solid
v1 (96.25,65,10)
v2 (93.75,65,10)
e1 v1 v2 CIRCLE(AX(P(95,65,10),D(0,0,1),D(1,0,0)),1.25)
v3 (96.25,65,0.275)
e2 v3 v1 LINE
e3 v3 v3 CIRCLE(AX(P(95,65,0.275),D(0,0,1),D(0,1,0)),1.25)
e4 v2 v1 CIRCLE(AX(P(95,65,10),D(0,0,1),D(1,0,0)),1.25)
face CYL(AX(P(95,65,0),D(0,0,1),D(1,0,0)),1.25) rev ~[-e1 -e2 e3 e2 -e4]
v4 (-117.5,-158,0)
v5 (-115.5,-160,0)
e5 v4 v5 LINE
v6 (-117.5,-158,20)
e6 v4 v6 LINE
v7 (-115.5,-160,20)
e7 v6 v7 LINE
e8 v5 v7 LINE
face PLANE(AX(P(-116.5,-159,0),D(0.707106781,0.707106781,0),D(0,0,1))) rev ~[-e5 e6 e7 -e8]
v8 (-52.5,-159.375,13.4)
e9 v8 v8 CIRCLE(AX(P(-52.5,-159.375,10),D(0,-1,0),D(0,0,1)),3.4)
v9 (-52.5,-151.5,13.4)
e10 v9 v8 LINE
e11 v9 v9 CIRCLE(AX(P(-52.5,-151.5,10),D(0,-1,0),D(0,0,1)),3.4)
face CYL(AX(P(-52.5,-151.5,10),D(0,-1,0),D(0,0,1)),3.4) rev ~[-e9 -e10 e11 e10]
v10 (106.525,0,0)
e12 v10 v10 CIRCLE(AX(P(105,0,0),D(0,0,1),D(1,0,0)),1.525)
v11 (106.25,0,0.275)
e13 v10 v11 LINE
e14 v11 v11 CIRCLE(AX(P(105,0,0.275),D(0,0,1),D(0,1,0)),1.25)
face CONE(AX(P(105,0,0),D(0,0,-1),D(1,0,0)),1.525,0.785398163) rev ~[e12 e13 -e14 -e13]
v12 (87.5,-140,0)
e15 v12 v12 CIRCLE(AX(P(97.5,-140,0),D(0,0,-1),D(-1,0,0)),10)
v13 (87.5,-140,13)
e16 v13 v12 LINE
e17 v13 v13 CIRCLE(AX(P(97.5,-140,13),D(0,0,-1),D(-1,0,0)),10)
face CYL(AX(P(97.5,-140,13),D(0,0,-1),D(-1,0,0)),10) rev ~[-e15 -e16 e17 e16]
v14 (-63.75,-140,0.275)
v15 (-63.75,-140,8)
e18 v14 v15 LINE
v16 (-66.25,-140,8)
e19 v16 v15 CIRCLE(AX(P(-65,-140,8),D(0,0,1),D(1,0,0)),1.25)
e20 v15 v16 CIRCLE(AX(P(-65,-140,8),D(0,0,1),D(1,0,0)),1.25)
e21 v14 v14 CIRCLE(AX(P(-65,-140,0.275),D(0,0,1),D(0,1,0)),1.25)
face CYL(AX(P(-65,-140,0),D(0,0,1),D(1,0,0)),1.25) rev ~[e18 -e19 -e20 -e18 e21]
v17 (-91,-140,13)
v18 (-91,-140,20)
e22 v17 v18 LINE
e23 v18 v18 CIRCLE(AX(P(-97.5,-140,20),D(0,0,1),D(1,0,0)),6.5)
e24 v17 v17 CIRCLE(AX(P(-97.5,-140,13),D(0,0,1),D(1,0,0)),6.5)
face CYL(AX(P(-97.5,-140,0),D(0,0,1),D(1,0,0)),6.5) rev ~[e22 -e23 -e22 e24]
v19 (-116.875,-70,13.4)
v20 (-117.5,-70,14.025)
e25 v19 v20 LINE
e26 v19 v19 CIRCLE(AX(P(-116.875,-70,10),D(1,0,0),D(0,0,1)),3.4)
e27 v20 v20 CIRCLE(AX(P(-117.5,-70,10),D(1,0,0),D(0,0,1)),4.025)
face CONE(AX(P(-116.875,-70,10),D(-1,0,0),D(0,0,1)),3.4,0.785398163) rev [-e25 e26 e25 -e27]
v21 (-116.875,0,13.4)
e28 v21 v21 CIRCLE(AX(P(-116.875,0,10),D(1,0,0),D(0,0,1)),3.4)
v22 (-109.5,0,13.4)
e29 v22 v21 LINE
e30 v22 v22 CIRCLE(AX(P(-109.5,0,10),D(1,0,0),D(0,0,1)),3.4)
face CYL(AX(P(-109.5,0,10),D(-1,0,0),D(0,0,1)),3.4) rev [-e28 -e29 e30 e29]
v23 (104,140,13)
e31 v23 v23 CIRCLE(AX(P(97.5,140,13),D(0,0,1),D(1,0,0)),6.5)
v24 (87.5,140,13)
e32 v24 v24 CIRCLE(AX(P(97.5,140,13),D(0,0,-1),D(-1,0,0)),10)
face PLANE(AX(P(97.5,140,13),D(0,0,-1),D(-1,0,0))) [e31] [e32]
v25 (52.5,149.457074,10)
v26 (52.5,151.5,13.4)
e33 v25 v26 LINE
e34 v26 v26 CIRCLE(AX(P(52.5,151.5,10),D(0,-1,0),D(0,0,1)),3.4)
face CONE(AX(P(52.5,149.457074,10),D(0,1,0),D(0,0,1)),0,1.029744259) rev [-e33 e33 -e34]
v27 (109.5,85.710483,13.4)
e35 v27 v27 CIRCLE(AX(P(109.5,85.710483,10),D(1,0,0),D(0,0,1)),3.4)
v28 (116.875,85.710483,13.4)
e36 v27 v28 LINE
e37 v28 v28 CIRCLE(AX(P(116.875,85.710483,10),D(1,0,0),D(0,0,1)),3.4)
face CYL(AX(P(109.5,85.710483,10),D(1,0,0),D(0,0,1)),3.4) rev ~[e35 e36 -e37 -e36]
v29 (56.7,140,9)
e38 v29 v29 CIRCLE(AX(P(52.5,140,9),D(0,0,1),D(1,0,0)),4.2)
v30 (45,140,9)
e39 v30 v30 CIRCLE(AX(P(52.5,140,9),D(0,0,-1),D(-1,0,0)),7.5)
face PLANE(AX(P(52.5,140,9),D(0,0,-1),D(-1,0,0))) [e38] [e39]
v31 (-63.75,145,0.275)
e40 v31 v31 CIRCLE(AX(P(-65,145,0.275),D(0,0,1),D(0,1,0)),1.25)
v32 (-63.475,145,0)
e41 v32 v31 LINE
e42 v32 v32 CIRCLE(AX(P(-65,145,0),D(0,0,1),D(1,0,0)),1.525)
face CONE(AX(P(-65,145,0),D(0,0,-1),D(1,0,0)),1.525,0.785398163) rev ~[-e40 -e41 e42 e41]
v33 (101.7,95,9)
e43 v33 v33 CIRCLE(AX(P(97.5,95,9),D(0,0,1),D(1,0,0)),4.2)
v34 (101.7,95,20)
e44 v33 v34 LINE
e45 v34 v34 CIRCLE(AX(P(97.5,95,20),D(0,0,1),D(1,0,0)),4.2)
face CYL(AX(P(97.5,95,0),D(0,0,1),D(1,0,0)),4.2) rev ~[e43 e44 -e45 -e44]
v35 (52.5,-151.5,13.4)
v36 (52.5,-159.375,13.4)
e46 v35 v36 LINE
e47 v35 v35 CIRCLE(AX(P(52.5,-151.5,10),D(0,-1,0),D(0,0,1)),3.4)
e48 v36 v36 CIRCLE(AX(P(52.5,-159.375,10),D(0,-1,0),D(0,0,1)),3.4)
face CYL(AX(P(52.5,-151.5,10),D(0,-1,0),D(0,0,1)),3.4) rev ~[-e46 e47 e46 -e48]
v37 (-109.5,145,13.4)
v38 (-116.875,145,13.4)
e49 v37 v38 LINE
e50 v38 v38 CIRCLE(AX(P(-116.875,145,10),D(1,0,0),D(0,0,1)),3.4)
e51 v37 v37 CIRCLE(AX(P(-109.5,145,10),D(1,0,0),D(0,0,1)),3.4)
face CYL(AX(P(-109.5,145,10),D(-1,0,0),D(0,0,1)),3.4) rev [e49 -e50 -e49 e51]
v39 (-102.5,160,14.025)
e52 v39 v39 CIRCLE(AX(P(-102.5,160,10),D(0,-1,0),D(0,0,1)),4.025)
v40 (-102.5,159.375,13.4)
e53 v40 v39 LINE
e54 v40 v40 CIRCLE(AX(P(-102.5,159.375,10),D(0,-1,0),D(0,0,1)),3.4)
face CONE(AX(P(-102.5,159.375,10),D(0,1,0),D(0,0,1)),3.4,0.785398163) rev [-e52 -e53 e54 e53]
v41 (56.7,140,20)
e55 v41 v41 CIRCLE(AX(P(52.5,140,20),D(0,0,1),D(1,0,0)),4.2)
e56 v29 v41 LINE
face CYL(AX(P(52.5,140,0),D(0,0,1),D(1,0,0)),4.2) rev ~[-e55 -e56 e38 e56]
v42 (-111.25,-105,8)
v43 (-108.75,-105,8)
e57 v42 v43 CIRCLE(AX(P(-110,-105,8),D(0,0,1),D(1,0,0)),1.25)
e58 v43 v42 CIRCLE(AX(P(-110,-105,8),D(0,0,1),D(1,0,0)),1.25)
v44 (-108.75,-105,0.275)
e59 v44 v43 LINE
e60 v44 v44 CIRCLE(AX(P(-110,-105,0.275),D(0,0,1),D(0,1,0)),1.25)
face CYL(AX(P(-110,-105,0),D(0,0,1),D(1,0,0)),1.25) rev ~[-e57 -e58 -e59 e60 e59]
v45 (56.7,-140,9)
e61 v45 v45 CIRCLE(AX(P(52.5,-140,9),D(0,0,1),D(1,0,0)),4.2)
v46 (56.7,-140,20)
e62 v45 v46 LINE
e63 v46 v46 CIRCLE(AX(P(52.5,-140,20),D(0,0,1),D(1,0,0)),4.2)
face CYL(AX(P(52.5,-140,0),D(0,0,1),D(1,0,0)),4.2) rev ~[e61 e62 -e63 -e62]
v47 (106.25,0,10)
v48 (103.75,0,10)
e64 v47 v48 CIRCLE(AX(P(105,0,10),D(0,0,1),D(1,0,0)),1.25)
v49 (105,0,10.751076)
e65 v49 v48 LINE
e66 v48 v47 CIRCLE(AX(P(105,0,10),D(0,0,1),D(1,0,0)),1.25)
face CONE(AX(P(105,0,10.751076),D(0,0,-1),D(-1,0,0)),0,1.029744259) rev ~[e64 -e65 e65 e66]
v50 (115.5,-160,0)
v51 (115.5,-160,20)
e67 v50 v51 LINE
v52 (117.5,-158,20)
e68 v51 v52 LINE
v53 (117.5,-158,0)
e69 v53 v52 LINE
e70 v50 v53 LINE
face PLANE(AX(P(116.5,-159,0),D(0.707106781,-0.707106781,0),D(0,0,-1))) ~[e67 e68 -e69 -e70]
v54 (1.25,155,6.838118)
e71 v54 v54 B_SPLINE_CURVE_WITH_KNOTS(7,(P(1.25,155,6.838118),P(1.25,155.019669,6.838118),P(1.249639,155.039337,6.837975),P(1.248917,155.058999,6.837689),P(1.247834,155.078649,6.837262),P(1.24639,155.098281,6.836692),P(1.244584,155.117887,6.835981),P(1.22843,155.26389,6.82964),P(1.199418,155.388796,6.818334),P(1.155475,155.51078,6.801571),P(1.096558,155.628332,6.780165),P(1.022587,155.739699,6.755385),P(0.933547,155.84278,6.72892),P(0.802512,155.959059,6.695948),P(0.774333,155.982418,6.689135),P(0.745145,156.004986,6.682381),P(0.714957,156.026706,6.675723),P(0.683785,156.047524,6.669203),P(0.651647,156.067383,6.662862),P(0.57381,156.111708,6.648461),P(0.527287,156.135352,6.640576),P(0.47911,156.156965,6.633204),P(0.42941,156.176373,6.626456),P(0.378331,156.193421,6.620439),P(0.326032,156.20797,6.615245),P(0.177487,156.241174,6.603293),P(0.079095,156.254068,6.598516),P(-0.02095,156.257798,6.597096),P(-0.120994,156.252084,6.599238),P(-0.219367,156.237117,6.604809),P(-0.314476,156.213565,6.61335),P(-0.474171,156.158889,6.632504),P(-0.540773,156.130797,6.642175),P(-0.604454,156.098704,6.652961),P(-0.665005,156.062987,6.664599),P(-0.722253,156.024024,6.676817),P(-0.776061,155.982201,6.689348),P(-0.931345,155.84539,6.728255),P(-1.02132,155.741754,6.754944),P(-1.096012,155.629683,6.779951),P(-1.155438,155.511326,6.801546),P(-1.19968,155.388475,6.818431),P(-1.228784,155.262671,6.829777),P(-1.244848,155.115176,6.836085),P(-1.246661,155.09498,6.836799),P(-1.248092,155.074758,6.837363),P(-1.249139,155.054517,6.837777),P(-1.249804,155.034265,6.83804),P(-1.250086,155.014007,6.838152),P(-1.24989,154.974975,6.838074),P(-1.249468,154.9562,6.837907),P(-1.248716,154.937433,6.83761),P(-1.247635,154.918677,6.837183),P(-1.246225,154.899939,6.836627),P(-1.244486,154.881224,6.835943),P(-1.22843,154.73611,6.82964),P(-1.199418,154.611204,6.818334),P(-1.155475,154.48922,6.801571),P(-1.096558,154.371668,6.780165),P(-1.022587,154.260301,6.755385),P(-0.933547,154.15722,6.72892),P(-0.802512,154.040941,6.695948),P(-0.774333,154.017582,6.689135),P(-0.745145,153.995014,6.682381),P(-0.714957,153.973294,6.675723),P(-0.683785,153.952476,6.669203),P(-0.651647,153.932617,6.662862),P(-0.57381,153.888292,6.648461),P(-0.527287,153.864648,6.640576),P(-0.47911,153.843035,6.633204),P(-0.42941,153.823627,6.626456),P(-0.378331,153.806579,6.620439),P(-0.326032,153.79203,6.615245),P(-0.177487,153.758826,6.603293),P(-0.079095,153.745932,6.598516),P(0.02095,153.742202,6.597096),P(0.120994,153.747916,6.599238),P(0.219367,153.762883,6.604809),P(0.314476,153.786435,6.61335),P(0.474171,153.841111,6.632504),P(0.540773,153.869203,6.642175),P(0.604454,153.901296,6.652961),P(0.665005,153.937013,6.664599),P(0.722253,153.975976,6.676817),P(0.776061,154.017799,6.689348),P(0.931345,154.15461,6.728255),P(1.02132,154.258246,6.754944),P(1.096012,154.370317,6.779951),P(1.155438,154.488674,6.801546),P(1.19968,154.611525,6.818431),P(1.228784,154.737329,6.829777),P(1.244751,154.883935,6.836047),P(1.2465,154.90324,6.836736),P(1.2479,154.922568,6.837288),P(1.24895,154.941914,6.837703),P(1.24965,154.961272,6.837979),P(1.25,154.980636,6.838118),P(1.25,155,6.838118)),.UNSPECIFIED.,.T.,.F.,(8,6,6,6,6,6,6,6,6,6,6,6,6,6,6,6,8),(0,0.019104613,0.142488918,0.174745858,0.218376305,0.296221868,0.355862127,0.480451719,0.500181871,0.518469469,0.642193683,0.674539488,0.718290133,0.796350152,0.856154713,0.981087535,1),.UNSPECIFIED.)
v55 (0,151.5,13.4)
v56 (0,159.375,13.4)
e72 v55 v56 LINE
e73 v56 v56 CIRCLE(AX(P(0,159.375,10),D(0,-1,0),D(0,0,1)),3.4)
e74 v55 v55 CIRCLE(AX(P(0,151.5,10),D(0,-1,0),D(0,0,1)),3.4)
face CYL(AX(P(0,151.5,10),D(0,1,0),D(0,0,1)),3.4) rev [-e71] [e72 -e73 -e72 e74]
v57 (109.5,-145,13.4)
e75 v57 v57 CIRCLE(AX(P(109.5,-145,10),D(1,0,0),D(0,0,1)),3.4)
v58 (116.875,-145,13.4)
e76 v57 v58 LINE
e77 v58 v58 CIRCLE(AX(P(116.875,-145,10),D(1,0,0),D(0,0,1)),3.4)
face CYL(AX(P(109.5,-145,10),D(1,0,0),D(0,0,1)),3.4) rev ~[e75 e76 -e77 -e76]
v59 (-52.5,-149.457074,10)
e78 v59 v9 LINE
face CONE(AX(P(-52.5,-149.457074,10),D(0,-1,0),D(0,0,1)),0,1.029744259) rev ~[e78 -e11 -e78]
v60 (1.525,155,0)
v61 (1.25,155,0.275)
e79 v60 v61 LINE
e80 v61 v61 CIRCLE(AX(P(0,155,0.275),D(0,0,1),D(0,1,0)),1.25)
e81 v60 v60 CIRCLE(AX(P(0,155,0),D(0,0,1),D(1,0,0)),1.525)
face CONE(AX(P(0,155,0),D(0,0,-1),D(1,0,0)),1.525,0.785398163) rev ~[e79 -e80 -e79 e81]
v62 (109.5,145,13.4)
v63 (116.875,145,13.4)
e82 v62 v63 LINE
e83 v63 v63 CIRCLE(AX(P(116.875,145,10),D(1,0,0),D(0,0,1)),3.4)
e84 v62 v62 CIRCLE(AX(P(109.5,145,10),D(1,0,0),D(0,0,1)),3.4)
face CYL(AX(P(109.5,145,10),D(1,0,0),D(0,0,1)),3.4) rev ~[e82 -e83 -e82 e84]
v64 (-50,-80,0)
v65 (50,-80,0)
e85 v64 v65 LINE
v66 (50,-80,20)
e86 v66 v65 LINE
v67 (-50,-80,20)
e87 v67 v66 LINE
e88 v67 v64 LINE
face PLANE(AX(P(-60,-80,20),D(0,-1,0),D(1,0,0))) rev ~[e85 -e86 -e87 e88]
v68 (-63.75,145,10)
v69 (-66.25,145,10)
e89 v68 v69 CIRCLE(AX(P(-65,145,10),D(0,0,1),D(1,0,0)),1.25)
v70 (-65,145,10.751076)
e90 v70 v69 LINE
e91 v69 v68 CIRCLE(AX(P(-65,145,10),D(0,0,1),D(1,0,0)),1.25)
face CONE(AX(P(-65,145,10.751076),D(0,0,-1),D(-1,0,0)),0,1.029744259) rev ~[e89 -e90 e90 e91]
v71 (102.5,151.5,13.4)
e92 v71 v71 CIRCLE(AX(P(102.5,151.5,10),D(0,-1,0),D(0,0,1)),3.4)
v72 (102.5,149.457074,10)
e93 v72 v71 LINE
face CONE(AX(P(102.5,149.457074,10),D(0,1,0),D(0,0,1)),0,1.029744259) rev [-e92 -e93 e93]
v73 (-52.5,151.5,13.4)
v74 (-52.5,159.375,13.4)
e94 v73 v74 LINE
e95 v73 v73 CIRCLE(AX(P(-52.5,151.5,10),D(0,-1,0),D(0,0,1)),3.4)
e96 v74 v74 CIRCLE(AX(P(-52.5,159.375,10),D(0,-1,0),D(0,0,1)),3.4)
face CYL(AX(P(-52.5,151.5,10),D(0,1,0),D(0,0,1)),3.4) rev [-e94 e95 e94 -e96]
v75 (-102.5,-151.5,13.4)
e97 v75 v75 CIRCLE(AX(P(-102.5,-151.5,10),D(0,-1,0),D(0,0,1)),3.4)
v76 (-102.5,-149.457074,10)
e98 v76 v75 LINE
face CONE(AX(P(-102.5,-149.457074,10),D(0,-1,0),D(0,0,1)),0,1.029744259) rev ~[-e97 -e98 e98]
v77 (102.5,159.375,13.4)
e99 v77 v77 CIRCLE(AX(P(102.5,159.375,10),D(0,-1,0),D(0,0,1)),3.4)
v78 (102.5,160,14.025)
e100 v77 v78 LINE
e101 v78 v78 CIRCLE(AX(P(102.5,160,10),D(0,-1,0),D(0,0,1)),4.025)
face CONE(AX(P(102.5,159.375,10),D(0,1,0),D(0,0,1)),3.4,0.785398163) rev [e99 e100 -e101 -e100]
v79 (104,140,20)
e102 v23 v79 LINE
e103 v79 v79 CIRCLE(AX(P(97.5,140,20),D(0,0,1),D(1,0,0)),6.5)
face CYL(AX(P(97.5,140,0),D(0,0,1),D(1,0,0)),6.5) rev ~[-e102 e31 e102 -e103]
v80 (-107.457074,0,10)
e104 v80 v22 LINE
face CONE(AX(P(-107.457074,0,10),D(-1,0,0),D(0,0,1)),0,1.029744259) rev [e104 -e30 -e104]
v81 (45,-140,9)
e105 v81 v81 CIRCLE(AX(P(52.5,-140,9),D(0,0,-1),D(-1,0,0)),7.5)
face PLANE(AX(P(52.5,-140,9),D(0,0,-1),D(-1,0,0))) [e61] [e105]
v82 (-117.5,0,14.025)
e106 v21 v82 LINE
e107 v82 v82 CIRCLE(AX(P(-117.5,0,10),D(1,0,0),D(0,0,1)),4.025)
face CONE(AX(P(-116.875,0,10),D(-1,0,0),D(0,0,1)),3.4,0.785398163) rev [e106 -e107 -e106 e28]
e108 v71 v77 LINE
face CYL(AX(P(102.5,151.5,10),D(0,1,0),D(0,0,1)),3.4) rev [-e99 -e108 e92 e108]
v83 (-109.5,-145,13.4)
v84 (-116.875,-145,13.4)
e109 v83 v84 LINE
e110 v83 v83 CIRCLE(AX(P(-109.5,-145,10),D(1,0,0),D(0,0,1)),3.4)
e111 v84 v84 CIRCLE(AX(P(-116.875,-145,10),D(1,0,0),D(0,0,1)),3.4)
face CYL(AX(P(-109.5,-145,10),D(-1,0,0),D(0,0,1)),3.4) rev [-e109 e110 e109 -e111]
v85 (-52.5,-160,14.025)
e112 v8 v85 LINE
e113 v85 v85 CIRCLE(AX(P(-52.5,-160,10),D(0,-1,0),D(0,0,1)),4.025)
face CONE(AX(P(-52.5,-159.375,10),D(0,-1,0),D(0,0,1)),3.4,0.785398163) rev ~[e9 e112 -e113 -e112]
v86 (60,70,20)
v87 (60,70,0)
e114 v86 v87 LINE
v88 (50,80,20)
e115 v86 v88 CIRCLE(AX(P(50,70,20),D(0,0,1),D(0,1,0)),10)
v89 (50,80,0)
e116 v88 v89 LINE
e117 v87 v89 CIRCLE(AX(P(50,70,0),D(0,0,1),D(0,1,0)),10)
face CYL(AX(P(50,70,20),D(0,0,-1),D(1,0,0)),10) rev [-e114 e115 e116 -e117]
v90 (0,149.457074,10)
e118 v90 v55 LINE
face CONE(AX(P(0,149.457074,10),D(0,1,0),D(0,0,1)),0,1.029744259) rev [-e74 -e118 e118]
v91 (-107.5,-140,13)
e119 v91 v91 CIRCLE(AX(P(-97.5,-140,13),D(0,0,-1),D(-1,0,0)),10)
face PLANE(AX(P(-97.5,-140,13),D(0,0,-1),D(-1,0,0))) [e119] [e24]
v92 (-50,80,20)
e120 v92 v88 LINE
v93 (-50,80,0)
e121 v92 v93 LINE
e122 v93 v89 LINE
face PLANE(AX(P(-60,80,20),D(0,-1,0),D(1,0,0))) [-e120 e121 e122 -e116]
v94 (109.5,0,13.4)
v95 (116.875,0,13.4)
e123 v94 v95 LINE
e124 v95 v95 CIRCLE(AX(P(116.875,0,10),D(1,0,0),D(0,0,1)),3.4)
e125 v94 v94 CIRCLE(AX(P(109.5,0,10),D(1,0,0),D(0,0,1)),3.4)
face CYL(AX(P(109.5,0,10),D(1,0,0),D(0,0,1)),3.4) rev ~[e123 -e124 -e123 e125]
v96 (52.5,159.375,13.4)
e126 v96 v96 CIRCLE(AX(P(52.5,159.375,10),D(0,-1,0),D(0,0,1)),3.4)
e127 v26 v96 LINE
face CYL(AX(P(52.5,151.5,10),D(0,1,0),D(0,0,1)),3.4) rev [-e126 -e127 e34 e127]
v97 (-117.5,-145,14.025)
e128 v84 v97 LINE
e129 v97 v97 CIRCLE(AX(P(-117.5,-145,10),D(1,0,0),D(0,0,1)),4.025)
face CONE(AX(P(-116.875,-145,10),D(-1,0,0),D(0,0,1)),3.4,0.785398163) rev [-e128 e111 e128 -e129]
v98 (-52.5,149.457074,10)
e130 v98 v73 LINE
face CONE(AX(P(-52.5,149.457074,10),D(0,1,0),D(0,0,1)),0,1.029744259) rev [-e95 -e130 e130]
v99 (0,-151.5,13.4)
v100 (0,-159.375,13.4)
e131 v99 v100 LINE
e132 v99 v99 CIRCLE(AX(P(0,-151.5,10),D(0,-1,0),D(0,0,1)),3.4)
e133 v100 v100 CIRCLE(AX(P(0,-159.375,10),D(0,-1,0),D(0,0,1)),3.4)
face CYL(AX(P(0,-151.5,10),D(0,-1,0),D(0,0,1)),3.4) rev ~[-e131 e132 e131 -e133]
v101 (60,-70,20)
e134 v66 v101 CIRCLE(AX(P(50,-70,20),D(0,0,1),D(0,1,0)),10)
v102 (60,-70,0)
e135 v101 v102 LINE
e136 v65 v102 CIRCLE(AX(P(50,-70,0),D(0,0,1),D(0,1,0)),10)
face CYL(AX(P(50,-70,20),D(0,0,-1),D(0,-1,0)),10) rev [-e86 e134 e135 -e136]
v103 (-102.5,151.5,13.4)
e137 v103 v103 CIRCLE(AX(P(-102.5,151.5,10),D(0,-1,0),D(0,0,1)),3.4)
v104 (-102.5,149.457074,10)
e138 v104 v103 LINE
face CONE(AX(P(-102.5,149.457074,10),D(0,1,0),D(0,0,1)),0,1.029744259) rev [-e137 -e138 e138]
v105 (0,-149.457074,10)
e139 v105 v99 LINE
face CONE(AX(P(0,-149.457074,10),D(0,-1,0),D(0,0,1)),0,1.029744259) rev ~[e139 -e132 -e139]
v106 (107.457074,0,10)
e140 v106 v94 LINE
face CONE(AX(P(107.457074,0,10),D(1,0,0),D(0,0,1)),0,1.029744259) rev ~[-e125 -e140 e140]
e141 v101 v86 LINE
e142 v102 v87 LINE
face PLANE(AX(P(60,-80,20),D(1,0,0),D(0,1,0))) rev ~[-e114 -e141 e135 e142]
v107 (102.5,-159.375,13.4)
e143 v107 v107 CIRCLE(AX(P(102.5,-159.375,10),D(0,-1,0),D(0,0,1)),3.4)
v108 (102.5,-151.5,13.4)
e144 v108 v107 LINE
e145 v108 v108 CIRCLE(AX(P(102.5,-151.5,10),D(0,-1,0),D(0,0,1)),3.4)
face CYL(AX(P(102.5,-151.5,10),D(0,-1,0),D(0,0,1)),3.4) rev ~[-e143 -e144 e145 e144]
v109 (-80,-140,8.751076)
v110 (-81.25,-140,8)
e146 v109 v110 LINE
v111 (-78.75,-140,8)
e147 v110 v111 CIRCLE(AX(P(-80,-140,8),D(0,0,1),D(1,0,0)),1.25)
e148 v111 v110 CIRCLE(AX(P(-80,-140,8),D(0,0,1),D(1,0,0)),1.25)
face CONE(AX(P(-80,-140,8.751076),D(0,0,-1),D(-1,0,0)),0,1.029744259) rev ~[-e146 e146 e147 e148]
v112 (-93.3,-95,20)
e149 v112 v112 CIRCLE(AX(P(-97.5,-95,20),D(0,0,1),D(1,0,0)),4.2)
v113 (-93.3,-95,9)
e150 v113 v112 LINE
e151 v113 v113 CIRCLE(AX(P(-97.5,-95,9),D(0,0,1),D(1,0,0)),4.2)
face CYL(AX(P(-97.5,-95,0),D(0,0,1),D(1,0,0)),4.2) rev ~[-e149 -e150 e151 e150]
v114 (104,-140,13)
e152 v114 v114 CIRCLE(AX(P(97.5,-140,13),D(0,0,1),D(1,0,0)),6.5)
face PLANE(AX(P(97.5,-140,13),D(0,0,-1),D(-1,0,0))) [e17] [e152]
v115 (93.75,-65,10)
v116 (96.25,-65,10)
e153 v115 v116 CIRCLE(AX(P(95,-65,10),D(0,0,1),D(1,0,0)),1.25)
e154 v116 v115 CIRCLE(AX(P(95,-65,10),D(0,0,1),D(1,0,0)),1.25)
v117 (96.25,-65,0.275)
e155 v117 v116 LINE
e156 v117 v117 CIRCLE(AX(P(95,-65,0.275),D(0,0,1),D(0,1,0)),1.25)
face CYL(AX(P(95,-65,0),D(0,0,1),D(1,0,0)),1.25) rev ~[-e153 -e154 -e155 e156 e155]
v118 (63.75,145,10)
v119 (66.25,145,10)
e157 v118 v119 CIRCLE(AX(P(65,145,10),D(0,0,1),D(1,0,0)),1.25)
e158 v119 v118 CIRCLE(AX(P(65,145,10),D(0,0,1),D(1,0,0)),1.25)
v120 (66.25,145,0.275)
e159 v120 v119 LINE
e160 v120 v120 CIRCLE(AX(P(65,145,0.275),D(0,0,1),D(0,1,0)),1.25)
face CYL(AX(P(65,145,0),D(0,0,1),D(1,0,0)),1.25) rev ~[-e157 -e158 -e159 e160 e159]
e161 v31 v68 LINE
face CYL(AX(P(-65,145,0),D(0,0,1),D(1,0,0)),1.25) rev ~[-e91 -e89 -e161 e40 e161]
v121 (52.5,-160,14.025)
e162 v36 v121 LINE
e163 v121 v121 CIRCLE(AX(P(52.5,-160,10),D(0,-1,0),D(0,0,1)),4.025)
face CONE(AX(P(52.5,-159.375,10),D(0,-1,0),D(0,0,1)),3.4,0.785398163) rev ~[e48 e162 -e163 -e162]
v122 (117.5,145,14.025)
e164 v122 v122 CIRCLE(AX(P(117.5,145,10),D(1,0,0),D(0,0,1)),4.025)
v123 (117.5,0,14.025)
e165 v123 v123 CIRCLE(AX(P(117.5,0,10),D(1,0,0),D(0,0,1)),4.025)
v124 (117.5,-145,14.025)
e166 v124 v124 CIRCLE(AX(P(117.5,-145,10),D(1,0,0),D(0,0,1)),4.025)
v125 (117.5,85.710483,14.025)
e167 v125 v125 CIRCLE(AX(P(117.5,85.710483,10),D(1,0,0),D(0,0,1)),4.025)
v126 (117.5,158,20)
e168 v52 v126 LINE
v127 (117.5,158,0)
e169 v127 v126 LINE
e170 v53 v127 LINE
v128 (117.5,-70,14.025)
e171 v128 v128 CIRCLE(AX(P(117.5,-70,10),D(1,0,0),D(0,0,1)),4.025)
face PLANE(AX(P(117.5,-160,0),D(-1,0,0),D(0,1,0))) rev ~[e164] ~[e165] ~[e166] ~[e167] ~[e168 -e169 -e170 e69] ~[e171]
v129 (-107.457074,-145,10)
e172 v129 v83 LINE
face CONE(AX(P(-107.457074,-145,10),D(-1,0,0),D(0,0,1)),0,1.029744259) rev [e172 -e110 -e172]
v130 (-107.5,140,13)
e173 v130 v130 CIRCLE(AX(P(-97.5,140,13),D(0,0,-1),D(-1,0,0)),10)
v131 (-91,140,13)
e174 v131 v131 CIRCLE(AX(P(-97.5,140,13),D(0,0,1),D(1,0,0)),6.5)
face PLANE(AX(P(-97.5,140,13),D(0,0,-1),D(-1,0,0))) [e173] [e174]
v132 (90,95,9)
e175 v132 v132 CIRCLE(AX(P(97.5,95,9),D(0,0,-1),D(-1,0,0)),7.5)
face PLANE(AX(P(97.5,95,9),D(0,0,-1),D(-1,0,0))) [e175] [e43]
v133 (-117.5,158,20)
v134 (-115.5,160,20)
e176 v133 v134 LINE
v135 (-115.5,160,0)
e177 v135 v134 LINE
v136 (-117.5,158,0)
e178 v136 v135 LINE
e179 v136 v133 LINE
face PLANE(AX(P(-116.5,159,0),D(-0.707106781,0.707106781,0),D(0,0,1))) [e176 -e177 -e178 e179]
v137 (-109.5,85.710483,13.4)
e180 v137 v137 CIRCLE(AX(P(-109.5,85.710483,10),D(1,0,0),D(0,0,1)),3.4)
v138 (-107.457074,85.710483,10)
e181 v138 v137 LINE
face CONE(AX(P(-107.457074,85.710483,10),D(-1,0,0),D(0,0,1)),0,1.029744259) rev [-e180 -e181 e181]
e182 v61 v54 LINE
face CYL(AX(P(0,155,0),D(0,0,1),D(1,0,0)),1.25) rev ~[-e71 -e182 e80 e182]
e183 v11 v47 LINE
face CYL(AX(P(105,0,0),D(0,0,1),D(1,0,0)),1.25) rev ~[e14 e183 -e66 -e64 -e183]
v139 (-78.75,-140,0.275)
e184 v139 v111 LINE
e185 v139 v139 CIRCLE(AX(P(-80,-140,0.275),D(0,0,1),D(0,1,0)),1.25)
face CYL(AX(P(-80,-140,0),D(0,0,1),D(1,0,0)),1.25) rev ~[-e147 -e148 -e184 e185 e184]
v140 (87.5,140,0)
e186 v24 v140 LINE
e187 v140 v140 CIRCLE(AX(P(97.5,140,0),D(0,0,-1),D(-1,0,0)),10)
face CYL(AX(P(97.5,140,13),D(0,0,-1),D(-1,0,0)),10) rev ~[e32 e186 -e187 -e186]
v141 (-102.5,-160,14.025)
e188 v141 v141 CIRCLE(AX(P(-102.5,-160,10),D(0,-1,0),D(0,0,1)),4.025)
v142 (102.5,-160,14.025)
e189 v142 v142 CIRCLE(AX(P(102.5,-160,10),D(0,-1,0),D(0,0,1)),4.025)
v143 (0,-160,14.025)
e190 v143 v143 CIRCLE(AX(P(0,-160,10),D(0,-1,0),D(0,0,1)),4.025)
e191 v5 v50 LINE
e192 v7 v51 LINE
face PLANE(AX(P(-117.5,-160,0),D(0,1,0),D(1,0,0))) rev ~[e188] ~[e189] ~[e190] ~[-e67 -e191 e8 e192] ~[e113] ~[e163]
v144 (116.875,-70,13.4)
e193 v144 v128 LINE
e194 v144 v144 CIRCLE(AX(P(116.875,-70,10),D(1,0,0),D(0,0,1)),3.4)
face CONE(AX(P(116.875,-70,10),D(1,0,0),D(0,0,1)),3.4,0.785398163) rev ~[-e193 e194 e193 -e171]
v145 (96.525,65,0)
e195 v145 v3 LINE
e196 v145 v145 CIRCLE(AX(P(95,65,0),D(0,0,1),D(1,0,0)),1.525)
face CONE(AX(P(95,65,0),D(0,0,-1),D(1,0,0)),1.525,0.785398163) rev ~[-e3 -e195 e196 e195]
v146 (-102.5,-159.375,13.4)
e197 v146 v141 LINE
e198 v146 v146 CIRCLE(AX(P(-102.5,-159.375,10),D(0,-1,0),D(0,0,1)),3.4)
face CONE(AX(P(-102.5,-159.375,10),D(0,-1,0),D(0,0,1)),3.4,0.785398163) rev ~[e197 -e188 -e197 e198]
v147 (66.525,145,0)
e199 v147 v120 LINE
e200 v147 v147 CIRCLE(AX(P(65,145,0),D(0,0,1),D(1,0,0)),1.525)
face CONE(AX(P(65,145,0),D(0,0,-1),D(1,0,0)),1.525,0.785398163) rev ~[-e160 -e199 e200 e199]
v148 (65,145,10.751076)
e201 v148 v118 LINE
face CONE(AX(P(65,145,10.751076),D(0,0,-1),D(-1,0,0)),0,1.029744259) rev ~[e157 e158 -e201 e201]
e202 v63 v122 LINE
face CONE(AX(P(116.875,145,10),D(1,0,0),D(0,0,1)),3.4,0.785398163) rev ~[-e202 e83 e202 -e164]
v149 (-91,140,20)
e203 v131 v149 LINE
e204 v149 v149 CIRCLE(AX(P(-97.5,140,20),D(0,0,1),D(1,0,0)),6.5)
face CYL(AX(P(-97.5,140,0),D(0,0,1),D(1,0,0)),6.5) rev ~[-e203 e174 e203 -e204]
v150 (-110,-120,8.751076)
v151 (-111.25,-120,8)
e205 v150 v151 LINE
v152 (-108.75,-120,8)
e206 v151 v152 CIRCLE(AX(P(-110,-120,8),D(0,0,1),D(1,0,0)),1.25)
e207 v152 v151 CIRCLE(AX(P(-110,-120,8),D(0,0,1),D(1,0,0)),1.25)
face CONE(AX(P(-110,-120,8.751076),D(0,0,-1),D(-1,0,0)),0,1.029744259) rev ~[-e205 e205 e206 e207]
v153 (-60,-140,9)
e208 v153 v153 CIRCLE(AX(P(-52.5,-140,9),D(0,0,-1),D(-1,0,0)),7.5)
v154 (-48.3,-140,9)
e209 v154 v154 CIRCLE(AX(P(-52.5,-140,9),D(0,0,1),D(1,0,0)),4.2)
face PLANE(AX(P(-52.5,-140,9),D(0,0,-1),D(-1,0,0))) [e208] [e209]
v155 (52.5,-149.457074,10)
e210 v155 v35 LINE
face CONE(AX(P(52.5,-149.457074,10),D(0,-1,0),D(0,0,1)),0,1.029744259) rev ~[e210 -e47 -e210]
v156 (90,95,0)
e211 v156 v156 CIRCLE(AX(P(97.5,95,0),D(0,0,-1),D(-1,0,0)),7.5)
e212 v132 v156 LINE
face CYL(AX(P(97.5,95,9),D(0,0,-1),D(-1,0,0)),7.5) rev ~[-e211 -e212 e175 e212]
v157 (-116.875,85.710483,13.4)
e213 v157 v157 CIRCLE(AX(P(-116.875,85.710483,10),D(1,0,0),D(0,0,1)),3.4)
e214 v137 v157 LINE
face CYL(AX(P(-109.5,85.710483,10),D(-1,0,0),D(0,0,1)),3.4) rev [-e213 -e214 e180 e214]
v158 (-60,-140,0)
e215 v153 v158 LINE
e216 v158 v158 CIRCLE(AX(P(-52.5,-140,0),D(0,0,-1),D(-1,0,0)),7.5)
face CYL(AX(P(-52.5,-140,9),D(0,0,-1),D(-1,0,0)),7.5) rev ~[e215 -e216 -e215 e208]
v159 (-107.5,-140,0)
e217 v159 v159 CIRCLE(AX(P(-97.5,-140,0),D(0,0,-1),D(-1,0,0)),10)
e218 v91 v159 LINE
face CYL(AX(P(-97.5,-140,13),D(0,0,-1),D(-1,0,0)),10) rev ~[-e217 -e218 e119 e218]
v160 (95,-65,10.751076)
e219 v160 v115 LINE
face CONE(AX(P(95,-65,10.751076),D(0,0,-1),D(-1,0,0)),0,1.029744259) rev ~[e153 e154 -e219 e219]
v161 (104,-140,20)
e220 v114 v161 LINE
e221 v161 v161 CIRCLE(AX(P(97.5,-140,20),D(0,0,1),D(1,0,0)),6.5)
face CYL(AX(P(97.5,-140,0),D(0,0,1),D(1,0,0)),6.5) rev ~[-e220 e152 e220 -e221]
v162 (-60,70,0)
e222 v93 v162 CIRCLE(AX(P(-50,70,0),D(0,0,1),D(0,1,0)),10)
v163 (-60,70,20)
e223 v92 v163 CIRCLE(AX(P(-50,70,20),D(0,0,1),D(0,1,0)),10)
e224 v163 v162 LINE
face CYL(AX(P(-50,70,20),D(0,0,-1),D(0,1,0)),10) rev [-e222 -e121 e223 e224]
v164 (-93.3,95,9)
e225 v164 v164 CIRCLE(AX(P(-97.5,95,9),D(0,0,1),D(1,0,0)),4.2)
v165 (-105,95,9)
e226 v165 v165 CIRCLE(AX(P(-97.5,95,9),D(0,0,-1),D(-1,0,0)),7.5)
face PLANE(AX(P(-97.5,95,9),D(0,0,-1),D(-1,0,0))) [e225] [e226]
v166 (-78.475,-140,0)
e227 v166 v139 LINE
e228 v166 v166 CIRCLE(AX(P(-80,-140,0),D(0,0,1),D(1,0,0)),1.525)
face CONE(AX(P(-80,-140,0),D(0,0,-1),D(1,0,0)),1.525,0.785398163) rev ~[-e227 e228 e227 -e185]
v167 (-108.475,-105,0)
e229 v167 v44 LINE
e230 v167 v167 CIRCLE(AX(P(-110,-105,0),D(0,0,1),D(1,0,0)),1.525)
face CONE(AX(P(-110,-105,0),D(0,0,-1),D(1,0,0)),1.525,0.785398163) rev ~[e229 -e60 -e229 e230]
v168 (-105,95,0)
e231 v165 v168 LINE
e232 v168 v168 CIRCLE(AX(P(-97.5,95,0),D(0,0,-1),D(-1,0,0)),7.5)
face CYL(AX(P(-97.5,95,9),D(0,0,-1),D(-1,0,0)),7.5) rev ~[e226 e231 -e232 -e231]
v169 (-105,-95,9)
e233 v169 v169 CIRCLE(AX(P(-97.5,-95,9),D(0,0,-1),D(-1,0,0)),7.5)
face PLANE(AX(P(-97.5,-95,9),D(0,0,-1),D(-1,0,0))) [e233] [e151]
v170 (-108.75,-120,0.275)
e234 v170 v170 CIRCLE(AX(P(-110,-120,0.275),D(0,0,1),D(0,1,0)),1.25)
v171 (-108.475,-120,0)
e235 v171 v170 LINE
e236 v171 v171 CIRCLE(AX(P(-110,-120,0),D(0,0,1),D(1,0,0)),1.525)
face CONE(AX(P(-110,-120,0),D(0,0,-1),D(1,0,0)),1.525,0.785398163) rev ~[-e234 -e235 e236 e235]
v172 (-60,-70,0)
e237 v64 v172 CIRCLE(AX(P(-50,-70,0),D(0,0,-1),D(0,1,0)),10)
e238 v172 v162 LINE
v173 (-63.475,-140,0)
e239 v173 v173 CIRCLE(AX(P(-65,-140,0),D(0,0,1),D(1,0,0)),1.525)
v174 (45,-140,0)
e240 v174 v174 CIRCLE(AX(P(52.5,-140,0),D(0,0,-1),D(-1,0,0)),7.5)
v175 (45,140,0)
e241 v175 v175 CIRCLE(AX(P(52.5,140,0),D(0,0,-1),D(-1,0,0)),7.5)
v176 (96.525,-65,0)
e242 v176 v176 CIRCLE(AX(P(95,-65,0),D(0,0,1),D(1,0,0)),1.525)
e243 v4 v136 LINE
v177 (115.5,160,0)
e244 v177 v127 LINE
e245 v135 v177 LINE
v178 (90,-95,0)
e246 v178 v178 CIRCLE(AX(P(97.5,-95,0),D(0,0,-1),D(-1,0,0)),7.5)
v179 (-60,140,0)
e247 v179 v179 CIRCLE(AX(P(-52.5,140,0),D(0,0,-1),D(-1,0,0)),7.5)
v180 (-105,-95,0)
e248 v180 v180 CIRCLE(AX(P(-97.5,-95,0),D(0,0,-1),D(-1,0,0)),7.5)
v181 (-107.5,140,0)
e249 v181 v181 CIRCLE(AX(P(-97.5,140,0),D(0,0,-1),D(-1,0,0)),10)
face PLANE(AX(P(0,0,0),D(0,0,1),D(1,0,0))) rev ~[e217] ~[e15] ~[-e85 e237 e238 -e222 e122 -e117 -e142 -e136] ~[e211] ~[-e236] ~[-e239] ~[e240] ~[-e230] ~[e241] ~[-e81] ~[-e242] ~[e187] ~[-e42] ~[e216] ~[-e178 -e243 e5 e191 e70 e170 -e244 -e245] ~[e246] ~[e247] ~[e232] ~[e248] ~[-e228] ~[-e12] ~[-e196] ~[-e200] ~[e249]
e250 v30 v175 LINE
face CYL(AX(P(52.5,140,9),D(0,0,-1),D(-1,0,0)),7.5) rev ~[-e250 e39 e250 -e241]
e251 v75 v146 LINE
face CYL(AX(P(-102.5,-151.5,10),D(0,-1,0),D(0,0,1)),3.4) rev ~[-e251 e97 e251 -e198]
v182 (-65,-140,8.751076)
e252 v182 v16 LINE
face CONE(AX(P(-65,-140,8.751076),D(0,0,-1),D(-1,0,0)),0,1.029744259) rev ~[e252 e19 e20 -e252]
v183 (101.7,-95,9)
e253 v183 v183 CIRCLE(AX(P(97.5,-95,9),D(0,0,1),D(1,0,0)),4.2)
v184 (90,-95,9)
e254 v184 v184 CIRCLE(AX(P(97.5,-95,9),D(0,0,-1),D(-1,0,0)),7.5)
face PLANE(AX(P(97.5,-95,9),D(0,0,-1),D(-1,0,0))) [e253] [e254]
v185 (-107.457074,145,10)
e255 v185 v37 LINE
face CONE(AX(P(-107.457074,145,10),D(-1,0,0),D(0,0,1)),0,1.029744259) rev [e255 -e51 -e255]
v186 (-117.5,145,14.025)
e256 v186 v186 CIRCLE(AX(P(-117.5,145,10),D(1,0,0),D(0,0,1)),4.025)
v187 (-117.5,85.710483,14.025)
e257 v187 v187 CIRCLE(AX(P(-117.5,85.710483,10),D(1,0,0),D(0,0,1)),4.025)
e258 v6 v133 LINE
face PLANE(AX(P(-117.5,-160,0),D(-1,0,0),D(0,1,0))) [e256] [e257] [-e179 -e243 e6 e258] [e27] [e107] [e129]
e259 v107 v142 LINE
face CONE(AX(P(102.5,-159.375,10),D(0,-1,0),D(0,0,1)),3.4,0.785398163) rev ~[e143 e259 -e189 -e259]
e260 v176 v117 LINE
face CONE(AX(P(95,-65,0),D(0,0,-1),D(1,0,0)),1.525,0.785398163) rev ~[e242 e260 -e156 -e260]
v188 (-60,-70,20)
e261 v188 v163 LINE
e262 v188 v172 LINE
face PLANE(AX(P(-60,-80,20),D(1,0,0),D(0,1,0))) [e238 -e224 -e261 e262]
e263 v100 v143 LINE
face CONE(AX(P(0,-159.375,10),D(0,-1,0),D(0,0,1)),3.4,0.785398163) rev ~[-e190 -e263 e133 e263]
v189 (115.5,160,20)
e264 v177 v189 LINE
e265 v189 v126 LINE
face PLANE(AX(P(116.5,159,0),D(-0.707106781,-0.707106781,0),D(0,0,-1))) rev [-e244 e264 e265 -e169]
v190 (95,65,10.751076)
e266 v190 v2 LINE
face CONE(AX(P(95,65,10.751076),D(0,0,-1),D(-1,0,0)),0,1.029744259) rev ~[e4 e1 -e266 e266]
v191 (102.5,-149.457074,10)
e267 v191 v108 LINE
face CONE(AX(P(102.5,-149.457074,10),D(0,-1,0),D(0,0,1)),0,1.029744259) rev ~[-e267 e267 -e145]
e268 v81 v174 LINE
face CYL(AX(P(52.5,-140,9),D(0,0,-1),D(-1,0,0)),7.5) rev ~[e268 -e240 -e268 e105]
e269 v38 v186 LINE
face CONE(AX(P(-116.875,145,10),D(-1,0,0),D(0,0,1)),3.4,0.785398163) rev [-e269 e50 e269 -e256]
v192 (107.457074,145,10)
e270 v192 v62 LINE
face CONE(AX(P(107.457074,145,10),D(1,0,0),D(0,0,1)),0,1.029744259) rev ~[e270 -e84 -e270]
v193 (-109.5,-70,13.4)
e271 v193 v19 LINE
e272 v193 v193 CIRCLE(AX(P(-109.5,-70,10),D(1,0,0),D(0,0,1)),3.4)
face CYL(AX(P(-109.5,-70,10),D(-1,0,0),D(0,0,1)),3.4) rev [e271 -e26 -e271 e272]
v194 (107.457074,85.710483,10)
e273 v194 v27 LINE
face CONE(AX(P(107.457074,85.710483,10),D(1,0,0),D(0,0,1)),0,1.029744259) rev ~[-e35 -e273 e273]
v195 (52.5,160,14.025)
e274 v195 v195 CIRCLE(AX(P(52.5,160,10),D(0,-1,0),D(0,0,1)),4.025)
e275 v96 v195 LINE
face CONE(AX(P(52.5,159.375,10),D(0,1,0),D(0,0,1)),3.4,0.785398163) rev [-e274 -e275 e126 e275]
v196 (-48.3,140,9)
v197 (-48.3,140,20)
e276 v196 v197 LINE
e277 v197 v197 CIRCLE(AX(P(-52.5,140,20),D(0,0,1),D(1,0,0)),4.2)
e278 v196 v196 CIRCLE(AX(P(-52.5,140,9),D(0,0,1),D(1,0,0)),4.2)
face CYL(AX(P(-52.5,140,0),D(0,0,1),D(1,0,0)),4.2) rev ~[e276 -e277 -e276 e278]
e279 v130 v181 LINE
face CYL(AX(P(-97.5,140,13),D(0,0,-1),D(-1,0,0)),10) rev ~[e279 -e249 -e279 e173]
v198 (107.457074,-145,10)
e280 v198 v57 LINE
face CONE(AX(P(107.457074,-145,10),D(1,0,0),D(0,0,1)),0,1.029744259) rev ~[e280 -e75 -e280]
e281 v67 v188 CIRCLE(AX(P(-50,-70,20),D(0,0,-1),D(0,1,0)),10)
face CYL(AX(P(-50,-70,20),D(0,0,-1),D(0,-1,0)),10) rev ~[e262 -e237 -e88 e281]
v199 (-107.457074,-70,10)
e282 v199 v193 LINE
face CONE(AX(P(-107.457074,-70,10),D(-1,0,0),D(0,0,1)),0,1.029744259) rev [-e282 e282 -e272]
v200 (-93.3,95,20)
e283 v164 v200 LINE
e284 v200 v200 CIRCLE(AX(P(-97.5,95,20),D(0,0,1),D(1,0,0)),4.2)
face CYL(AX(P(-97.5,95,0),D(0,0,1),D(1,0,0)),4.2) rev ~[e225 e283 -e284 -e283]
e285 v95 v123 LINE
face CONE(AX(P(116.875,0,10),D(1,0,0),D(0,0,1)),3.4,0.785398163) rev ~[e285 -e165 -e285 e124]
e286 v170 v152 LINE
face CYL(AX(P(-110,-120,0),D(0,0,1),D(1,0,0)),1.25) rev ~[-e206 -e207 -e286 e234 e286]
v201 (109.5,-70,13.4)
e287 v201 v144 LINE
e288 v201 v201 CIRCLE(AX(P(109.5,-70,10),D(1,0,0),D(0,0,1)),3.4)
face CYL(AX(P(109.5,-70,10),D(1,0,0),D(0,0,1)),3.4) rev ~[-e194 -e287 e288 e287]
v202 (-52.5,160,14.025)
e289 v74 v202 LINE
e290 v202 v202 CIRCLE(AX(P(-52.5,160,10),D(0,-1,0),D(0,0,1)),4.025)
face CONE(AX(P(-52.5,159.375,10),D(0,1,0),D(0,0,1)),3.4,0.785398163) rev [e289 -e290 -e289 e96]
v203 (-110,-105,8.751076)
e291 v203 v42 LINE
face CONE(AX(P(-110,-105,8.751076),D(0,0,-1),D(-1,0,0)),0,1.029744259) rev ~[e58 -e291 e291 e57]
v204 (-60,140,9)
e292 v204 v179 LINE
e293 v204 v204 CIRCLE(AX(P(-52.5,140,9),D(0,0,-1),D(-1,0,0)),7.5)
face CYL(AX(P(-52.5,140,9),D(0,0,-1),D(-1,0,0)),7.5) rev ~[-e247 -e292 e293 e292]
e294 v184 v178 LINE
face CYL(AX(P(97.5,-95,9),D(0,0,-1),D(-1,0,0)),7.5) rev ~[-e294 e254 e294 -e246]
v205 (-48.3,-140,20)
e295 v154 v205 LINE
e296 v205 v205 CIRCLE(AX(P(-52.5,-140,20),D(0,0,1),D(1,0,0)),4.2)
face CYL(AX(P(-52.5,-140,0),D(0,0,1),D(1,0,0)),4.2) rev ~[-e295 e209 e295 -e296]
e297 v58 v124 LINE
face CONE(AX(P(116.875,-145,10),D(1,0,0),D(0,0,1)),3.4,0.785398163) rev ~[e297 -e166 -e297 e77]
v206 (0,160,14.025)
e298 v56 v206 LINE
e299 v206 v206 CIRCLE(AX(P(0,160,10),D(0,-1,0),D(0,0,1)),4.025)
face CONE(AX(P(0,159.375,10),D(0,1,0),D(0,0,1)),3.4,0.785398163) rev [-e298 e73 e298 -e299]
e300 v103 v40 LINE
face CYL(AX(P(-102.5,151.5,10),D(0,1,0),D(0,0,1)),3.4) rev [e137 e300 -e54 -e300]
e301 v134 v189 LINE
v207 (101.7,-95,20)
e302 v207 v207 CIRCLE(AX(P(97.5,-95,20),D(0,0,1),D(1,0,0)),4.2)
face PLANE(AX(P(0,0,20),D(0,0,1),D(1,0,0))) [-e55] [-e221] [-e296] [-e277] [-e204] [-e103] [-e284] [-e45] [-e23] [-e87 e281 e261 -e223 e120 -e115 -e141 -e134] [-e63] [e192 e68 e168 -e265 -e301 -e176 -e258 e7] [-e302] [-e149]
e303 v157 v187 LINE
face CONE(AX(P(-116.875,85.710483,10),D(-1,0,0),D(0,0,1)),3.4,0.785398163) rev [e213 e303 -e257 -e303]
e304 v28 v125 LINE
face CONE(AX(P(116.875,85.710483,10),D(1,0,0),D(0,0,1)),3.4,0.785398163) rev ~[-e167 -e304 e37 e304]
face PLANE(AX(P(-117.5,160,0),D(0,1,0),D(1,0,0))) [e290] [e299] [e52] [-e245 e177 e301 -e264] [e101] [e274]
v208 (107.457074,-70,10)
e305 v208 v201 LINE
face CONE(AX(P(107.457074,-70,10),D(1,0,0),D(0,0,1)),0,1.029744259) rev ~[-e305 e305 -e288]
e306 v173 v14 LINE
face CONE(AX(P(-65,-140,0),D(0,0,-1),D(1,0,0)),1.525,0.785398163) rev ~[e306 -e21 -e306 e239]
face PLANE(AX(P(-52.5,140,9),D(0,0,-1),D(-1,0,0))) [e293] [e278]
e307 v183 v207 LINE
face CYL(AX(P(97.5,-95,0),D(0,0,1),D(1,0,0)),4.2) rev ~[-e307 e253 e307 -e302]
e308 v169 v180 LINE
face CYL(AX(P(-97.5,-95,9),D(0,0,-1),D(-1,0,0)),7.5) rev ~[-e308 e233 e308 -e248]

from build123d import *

# Parameters (mm, degrees)
SKETCH1_W                                            = 235
SKETCH1_H                                            = 320
BOSS_EXTRUDE1_DEPTH                                  = 20
SKETCH2_W                                            = 120
SKETCH2_H                                            = 160
CUT_EXTRUDE1_DEPTH                                   = 200.515037027
FILLET1_R                                            = 10
M3_TAPPED_HOLE1_D                                    = 2.5
M3_TAPPED_HOLE1_DEPTH                                = 10
M3_TAPPED_HOLE1_CSINK_D                              = 3.05
M3_TAPPED_HOLE1_CSINK_ANGLE                          = 90
M3_TAPPED_HOLE1_TIP                                  = 0.751075774
M3_TAPPED_HOLE2_D                                    = 2.5
M3_TAPPED_HOLE2_DEPTH                                = 8
M3_TAPPED_HOLE2_CSINK_D                              = 3.05
M3_TAPPED_HOLE2_CSINK_ANGLE                          = 90
M3_TAPPED_HOLE2_TIP                                  = 0.751075774
CBORE_FOR_M8_HEXAGON_SOCKET_HEAD_CAP_SCR_D           = 8.4
CBORE_FOR_M8_HEXAGON_SOCKET_HEAD_CAP_SCR_CBORE_D     = 15
CBORE_FOR_M8_HEXAGON_SOCKET_HEAD_CAP_SCR_CBORE_DEPTH = 9
CBORE_FOR_M12_HEXAGON_SOCKET_HEAD_CAP_SC_D           = 13
CBORE_FOR_M12_HEXAGON_SOCKET_HEAD_CAP_SC_CBORE_D     = 20
CBORE_FOR_M12_HEXAGON_SOCKET_HEAD_CAP_SC_CBORE_DEPTH = 13
M8_TAPPED_HOLE1_AT_2_COUNT                           = 2
M8_TAPPED_HOLE1_AT_2_PITCH                           = 102.5
M8_TAPPED_HOLE1_AT_3_COUNT                           = 2
M8_TAPPED_HOLE1_AT_3_PITCH                           = 205
M8_TAPPED_HOLE1_AT_4_COUNT                           = 2
M8_TAPPED_HOLE1_AT_4_PITCH                           = 50
M8_TAPPED_HOLE1_AT_5_COUNT                           = 2
M8_TAPPED_HOLE1_AT_5_PITCH                           = 155
CHAMFER1_SIZE                                        = 2
M8_TAPPED_HOLE2_AT_2_COUNT                           = 2
M8_TAPPED_HOLE2_AT_2_PITCH                           = 59.289517351
M8_TAPPED_HOLE2_AT_3_COUNT                           = 2
M8_TAPPED_HOLE2_AT_3_PITCH                           = 145
M8_TAPPED_HOLE2_AT_4_COUNT                           = 2
M8_TAPPED_HOLE2_AT_4_PITCH                           = 215
M8_TAPPED_HOLE2_AT_5_COUNT                           = 2
M8_TAPPED_HOLE2_AT_5_PITCH                           = 290


with BuildPart() as part:
    # Sketch1 → Boss-Extrude1 (new body)
    with BuildSketch(Plane.XY):
        Rectangle(SKETCH1_W, SKETCH1_H)
    extrude(amount=BOSS_EXTRUDE1_DEPTH)

    # Sketch2 → Cut-Extrude1 (cut, through all)
    with BuildSketch(Plane.XY.offset(20)):
        Rectangle(SKETCH2_W, SKETCH2_H)
    extrude(amount=-CUT_EXTRUDE1_DEPTH, mode=Mode.SUBTRACT)

    # Fillet1
    fillet1_edges = [part.edges().sort_by_distance(p)[0] for p in [
        (60, 80, 10),
        (60, -80, 10),
        (-60, -80, 10),
        (-60, 80, 10),
    ]]
    fillet(fillet1_edges, radius=FILLET1_R)

    # M3 Tapped Hole1
    with Locations(Plane(origin=(0, 0, 0), x_dir=(-1, 0, 0), z_dir=(0, 0, -1))):
        with Locations((-95, 65), (-105, 0), (-95, -65), (-65, 145), (0, 155), (65, 145)):
            CounterSinkHole(M3_TAPPED_HOLE1_D / 2, M3_TAPPED_HOLE1_CSINK_D / 2, depth=M3_TAPPED_HOLE1_DEPTH, counter_sink_angle=M3_TAPPED_HOLE1_CSINK_ANGLE)
            with Locations((0, 0, -(M3_TAPPED_HOLE1_DEPTH + M3_TAPPED_HOLE1_TIP / 2))):  # 118° drill point
                Cone(0, M3_TAPPED_HOLE1_D / 2, M3_TAPPED_HOLE1_TIP, mode=Mode.SUBTRACT)

    # M3 Tapped Hole2
    with Locations(Plane(origin=(0, 0, 0), x_dir=(-1, 0, 0), z_dir=(0, 0, -1))):
        with Locations((110, -105), (80, -140), (65, -140), (110, -120)):
            CounterSinkHole(M3_TAPPED_HOLE2_D / 2, M3_TAPPED_HOLE2_CSINK_D / 2, depth=M3_TAPPED_HOLE2_DEPTH, counter_sink_angle=M3_TAPPED_HOLE2_CSINK_ANGLE)
            with Locations((0, 0, -(M3_TAPPED_HOLE2_DEPTH + M3_TAPPED_HOLE2_TIP / 2))):  # 118° drill point
                Cone(0, M3_TAPPED_HOLE2_D / 2, M3_TAPPED_HOLE2_TIP, mode=Mode.SUBTRACT)

    # CBORE for M8 Hexagon socket head cap screws1 (through all)
    with Locations(Plane(origin=(0, 0, 0), x_dir=(-1, 0, 0), z_dir=(0, 0, -1))):
        with Locations((-52.5, 140), (-97.5, 95), (52.5, 140), (97.5, 95), (-97.5, -95), (-52.5, -140), (52.5, -140), (97.5, -95)):
            CounterBoreHole(CBORE_FOR_M8_HEXAGON_SOCKET_HEAD_CAP_SCR_D / 2, CBORE_FOR_M8_HEXAGON_SOCKET_HEAD_CAP_SCR_CBORE_D / 2, CBORE_FOR_M8_HEXAGON_SOCKET_HEAD_CAP_SCR_CBORE_DEPTH)

    # CBORE for M12 Hexagon socket head cap screws2 (through all)
    with Locations(Plane(origin=(0, 0, 0), x_dir=(-1, 0, 0), z_dir=(0, 0, -1))):
        with Locations((-97.5, 140), (97.5, 140), (-97.5, -140), (97.5, -140)):
            CounterBoreHole(CBORE_FOR_M12_HEXAGON_SOCKET_HEAD_CAP_SC_D / 2, CBORE_FOR_M12_HEXAGON_SOCKET_HEAD_CAP_SC_CBORE_D / 2, CBORE_FOR_M12_HEXAGON_SOCKET_HEAD_CAP_SC_CBORE_DEPTH)

    # Sketch24 → M8 Tapped Hole1 (revolve, cut)
    with BuildSketch(Plane(origin=(-102.5, 160, 10), x_dir=(0, 0, 1), z_dir=(1, 0, 0))):
        Polygon((0, 0), (0, 10.542926105), (3.4, 8.5), (3.4, 0.625), (4.025, 0), align=None)
    m8_tapped_hole1 = revolve(axis=Axis((-102.5, 166.35, 10), (0, -1, 0)), mode=Mode.SUBTRACT)

    # M8 Tapped Hole1 at 2: M8 Tapped Hole1 ×2
    with Locations(*[(i * M8_TAPPED_HOLE1_AT_2_PITCH, 0, 0) for i in range(1, M8_TAPPED_HOLE1_AT_2_COUNT)]):
        add(m8_tapped_hole1, mode=Mode.SUBTRACT)

    # M8 Tapped Hole1 at 3: M8 Tapped Hole1 ×2
    with Locations(*[(i * M8_TAPPED_HOLE1_AT_3_PITCH, 0, 0) for i in range(1, M8_TAPPED_HOLE1_AT_3_COUNT)]):
        add(m8_tapped_hole1, mode=Mode.SUBTRACT)

    # M8 Tapped Hole1 at 4: M8 Tapped Hole1 ×2
    with Locations(*[(i * M8_TAPPED_HOLE1_AT_4_PITCH, 0, 0) for i in range(1, M8_TAPPED_HOLE1_AT_4_COUNT)]):
        add(m8_tapped_hole1, mode=Mode.SUBTRACT)

    # M8 Tapped Hole1 at 5: M8 Tapped Hole1 ×2
    with Locations(*[(i * M8_TAPPED_HOLE1_AT_5_PITCH, 0, 0) for i in range(1, M8_TAPPED_HOLE1_AT_5_COUNT)]):
        add(m8_tapped_hole1, mode=Mode.SUBTRACT)

    # Mirror1: M8 Tapped Hole1 across plane
    add(m8_tapped_hole1.mirror(Plane.ZX), mode=Mode.SUBTRACT)

    # Mirror1 copy 1 sketch → Mirror1 copy 1 (revolve, cut)
    with BuildSketch(Plane(origin=(0, -160, 10), x_dir=(0, 0, 1), z_dir=(1, 0, 0))):
        Polygon((0, 0), (0, -10.542926105), (3.4, -8.5), (3.4, -0.625), (4.025, 0), align=None)
    revolve(axis=Axis((0, -166.35, 10), (0, -1, 0)), mode=Mode.SUBTRACT)

    # Mirror1 copy 2 sketch → Mirror1 copy 2 (revolve, cut)
    with BuildSketch(Plane(origin=(102.5, -160, 10), x_dir=(0, 0, 1), z_dir=(1, 0, 0))):
        Polygon((0, 0), (0, -10.542926105), (3.4, -8.5), (3.4, -0.625), (4.025, 0), align=None)
    revolve(axis=Axis((102.5, -166.35, 10), (0, -1, 0)), mode=Mode.SUBTRACT)

    # Mirror1 copy 3 sketch → Mirror1 copy 3 (revolve, cut)
    with BuildSketch(Plane(origin=(-52.5, -160, 10), x_dir=(0, 0, 1), z_dir=(1, 0, 0))):
        Polygon((0, 0), (0, -10.542926105), (3.4, -8.5), (3.4, -0.625), (4.025, 0), align=None)
    revolve(axis=Axis((-52.5, -166.35, 10), (0, -1, 0)), mode=Mode.SUBTRACT)

    # Mirror1 copy 4 sketch → Mirror1 copy 4 (revolve, cut)
    with BuildSketch(Plane(origin=(52.5, -160, 10), x_dir=(0, 0, 1), z_dir=(1, 0, 0))):
        Polygon((0, 0), (0, -10.542926105), (3.4, -8.5), (3.4, -0.625), (4.025, 0), align=None)
    revolve(axis=Axis((52.5, -166.35, 10), (0, -1, 0)), mode=Mode.SUBTRACT)

    # Chamfer1
    chamfer1_edges = [part.edges().sort_by_distance(p)[0] for p in [
        (117.5, -160, 10),
        (-117.5, -160, 10),
        (-117.5, 160, 10),
        (117.5, 160, 10),
    ]]
    chamfer(chamfer1_edges, length=CHAMFER1_SIZE)

    # Sketch27 → M8 Tapped Hole2 (revolve, cut)
    with BuildSketch(Plane(origin=(-117.5, 145, 10), x_dir=(0, 0, 1), z_dir=(0, 1, 0))):
        Polygon((0, 0), (0, 10.042926105), (3.4, 8), (3.4, 0.625), (4.025, 0), align=None)
    m8_tapped_hole2 = revolve(axis=Axis((-123.85, 145, 10), (1, 0, 0)), mode=Mode.SUBTRACT)

    # M8 Tapped Hole2 at 2: M8 Tapped Hole2 ×2
    with Locations(*[(0, -i * M8_TAPPED_HOLE2_AT_2_PITCH, 0) for i in range(1, M8_TAPPED_HOLE2_AT_2_COUNT)]):
        add(m8_tapped_hole2, mode=Mode.SUBTRACT)

    # M8 Tapped Hole2 at 3: M8 Tapped Hole2 ×2
    with Locations(*[(0, -i * M8_TAPPED_HOLE2_AT_3_PITCH, 0) for i in range(1, M8_TAPPED_HOLE2_AT_3_COUNT)]):
        add(m8_tapped_hole2, mode=Mode.SUBTRACT)

    # M8 Tapped Hole2 at 4: M8 Tapped Hole2 ×2
    with Locations(*[(0, -i * M8_TAPPED_HOLE2_AT_4_PITCH, 0) for i in range(1, M8_TAPPED_HOLE2_AT_4_COUNT)]):
        add(m8_tapped_hole2, mode=Mode.SUBTRACT)

    # M8 Tapped Hole2 at 5: M8 Tapped Hole2 ×2
    with Locations(*[(0, -i * M8_TAPPED_HOLE2_AT_5_PITCH, 0) for i in range(1, M8_TAPPED_HOLE2_AT_5_COUNT)]):
        add(m8_tapped_hole2, mode=Mode.SUBTRACT)

    # Mirror2: M8 Tapped Hole2 across plane
    add(m8_tapped_hole2.mirror(Plane(origin=(0, 0, 0), x_dir=(0, 0, 1), z_dir=(1, 0, 0))), mode=Mode.SUBTRACT)

    # Mirror2 copy 1 sketch → Mirror2 copy 1 (revolve, cut)
    with BuildSketch(Plane(origin=(117.5, 85.710482649, 10), x_dir=(0, 0, 1), z_dir=(0, 1, 0))):
        Polygon((0, 0), (0, -10.042926105), (3.4, -8), (3.4, -0.625), (4.025, 0), align=None)
    revolve(axis=Axis((123.85, 85.710482649, 10), (1, 0, 0)), mode=Mode.SUBTRACT)

    # Mirror2 copy 2 sketch → Mirror2 copy 2 (revolve, cut)
    with BuildSketch(Plane(origin=(117.5, 0, 10), x_dir=(0, 0, 1), z_dir=(0, 1, 0))):
        Polygon((0, 0), (0, -10.042926105), (3.4, -8), (3.4, -0.625), (4.025, 0), align=None)
    revolve(axis=Axis((123.85, 0, 10), (1, 0, 0)), mode=Mode.SUBTRACT)

    # Mirror2 copy 3 sketch → Mirror2 copy 3 (revolve, cut)
    with BuildSketch(Plane(origin=(117.5, -70, 10), x_dir=(0, 0, 1), z_dir=(0, 1, 0))):
        Polygon((0, 0), (0, -10.042926105), (3.4, -8), (3.4, -0.625), (4.025, 0), align=None)
    revolve(axis=Axis((123.85, -70, 10), (1, 0, 0)), mode=Mode.SUBTRACT)

    # Mirror2 copy 4 sketch → Mirror2 copy 4 (revolve, cut)
    with BuildSketch(Plane(origin=(117.5, -145, 10), x_dir=(0, 0, 1), z_dir=(0, 1, 0))):
        Polygon((0, 0), (0, -10.042926105), (3.4, -8), (3.4, -0.625), (4.025, 0), align=None)
    revolve(axis=Axis((123.85, -145, 10), (1, 0, 0)), mode=Mode.SUBTRACT)


solid = part.part
